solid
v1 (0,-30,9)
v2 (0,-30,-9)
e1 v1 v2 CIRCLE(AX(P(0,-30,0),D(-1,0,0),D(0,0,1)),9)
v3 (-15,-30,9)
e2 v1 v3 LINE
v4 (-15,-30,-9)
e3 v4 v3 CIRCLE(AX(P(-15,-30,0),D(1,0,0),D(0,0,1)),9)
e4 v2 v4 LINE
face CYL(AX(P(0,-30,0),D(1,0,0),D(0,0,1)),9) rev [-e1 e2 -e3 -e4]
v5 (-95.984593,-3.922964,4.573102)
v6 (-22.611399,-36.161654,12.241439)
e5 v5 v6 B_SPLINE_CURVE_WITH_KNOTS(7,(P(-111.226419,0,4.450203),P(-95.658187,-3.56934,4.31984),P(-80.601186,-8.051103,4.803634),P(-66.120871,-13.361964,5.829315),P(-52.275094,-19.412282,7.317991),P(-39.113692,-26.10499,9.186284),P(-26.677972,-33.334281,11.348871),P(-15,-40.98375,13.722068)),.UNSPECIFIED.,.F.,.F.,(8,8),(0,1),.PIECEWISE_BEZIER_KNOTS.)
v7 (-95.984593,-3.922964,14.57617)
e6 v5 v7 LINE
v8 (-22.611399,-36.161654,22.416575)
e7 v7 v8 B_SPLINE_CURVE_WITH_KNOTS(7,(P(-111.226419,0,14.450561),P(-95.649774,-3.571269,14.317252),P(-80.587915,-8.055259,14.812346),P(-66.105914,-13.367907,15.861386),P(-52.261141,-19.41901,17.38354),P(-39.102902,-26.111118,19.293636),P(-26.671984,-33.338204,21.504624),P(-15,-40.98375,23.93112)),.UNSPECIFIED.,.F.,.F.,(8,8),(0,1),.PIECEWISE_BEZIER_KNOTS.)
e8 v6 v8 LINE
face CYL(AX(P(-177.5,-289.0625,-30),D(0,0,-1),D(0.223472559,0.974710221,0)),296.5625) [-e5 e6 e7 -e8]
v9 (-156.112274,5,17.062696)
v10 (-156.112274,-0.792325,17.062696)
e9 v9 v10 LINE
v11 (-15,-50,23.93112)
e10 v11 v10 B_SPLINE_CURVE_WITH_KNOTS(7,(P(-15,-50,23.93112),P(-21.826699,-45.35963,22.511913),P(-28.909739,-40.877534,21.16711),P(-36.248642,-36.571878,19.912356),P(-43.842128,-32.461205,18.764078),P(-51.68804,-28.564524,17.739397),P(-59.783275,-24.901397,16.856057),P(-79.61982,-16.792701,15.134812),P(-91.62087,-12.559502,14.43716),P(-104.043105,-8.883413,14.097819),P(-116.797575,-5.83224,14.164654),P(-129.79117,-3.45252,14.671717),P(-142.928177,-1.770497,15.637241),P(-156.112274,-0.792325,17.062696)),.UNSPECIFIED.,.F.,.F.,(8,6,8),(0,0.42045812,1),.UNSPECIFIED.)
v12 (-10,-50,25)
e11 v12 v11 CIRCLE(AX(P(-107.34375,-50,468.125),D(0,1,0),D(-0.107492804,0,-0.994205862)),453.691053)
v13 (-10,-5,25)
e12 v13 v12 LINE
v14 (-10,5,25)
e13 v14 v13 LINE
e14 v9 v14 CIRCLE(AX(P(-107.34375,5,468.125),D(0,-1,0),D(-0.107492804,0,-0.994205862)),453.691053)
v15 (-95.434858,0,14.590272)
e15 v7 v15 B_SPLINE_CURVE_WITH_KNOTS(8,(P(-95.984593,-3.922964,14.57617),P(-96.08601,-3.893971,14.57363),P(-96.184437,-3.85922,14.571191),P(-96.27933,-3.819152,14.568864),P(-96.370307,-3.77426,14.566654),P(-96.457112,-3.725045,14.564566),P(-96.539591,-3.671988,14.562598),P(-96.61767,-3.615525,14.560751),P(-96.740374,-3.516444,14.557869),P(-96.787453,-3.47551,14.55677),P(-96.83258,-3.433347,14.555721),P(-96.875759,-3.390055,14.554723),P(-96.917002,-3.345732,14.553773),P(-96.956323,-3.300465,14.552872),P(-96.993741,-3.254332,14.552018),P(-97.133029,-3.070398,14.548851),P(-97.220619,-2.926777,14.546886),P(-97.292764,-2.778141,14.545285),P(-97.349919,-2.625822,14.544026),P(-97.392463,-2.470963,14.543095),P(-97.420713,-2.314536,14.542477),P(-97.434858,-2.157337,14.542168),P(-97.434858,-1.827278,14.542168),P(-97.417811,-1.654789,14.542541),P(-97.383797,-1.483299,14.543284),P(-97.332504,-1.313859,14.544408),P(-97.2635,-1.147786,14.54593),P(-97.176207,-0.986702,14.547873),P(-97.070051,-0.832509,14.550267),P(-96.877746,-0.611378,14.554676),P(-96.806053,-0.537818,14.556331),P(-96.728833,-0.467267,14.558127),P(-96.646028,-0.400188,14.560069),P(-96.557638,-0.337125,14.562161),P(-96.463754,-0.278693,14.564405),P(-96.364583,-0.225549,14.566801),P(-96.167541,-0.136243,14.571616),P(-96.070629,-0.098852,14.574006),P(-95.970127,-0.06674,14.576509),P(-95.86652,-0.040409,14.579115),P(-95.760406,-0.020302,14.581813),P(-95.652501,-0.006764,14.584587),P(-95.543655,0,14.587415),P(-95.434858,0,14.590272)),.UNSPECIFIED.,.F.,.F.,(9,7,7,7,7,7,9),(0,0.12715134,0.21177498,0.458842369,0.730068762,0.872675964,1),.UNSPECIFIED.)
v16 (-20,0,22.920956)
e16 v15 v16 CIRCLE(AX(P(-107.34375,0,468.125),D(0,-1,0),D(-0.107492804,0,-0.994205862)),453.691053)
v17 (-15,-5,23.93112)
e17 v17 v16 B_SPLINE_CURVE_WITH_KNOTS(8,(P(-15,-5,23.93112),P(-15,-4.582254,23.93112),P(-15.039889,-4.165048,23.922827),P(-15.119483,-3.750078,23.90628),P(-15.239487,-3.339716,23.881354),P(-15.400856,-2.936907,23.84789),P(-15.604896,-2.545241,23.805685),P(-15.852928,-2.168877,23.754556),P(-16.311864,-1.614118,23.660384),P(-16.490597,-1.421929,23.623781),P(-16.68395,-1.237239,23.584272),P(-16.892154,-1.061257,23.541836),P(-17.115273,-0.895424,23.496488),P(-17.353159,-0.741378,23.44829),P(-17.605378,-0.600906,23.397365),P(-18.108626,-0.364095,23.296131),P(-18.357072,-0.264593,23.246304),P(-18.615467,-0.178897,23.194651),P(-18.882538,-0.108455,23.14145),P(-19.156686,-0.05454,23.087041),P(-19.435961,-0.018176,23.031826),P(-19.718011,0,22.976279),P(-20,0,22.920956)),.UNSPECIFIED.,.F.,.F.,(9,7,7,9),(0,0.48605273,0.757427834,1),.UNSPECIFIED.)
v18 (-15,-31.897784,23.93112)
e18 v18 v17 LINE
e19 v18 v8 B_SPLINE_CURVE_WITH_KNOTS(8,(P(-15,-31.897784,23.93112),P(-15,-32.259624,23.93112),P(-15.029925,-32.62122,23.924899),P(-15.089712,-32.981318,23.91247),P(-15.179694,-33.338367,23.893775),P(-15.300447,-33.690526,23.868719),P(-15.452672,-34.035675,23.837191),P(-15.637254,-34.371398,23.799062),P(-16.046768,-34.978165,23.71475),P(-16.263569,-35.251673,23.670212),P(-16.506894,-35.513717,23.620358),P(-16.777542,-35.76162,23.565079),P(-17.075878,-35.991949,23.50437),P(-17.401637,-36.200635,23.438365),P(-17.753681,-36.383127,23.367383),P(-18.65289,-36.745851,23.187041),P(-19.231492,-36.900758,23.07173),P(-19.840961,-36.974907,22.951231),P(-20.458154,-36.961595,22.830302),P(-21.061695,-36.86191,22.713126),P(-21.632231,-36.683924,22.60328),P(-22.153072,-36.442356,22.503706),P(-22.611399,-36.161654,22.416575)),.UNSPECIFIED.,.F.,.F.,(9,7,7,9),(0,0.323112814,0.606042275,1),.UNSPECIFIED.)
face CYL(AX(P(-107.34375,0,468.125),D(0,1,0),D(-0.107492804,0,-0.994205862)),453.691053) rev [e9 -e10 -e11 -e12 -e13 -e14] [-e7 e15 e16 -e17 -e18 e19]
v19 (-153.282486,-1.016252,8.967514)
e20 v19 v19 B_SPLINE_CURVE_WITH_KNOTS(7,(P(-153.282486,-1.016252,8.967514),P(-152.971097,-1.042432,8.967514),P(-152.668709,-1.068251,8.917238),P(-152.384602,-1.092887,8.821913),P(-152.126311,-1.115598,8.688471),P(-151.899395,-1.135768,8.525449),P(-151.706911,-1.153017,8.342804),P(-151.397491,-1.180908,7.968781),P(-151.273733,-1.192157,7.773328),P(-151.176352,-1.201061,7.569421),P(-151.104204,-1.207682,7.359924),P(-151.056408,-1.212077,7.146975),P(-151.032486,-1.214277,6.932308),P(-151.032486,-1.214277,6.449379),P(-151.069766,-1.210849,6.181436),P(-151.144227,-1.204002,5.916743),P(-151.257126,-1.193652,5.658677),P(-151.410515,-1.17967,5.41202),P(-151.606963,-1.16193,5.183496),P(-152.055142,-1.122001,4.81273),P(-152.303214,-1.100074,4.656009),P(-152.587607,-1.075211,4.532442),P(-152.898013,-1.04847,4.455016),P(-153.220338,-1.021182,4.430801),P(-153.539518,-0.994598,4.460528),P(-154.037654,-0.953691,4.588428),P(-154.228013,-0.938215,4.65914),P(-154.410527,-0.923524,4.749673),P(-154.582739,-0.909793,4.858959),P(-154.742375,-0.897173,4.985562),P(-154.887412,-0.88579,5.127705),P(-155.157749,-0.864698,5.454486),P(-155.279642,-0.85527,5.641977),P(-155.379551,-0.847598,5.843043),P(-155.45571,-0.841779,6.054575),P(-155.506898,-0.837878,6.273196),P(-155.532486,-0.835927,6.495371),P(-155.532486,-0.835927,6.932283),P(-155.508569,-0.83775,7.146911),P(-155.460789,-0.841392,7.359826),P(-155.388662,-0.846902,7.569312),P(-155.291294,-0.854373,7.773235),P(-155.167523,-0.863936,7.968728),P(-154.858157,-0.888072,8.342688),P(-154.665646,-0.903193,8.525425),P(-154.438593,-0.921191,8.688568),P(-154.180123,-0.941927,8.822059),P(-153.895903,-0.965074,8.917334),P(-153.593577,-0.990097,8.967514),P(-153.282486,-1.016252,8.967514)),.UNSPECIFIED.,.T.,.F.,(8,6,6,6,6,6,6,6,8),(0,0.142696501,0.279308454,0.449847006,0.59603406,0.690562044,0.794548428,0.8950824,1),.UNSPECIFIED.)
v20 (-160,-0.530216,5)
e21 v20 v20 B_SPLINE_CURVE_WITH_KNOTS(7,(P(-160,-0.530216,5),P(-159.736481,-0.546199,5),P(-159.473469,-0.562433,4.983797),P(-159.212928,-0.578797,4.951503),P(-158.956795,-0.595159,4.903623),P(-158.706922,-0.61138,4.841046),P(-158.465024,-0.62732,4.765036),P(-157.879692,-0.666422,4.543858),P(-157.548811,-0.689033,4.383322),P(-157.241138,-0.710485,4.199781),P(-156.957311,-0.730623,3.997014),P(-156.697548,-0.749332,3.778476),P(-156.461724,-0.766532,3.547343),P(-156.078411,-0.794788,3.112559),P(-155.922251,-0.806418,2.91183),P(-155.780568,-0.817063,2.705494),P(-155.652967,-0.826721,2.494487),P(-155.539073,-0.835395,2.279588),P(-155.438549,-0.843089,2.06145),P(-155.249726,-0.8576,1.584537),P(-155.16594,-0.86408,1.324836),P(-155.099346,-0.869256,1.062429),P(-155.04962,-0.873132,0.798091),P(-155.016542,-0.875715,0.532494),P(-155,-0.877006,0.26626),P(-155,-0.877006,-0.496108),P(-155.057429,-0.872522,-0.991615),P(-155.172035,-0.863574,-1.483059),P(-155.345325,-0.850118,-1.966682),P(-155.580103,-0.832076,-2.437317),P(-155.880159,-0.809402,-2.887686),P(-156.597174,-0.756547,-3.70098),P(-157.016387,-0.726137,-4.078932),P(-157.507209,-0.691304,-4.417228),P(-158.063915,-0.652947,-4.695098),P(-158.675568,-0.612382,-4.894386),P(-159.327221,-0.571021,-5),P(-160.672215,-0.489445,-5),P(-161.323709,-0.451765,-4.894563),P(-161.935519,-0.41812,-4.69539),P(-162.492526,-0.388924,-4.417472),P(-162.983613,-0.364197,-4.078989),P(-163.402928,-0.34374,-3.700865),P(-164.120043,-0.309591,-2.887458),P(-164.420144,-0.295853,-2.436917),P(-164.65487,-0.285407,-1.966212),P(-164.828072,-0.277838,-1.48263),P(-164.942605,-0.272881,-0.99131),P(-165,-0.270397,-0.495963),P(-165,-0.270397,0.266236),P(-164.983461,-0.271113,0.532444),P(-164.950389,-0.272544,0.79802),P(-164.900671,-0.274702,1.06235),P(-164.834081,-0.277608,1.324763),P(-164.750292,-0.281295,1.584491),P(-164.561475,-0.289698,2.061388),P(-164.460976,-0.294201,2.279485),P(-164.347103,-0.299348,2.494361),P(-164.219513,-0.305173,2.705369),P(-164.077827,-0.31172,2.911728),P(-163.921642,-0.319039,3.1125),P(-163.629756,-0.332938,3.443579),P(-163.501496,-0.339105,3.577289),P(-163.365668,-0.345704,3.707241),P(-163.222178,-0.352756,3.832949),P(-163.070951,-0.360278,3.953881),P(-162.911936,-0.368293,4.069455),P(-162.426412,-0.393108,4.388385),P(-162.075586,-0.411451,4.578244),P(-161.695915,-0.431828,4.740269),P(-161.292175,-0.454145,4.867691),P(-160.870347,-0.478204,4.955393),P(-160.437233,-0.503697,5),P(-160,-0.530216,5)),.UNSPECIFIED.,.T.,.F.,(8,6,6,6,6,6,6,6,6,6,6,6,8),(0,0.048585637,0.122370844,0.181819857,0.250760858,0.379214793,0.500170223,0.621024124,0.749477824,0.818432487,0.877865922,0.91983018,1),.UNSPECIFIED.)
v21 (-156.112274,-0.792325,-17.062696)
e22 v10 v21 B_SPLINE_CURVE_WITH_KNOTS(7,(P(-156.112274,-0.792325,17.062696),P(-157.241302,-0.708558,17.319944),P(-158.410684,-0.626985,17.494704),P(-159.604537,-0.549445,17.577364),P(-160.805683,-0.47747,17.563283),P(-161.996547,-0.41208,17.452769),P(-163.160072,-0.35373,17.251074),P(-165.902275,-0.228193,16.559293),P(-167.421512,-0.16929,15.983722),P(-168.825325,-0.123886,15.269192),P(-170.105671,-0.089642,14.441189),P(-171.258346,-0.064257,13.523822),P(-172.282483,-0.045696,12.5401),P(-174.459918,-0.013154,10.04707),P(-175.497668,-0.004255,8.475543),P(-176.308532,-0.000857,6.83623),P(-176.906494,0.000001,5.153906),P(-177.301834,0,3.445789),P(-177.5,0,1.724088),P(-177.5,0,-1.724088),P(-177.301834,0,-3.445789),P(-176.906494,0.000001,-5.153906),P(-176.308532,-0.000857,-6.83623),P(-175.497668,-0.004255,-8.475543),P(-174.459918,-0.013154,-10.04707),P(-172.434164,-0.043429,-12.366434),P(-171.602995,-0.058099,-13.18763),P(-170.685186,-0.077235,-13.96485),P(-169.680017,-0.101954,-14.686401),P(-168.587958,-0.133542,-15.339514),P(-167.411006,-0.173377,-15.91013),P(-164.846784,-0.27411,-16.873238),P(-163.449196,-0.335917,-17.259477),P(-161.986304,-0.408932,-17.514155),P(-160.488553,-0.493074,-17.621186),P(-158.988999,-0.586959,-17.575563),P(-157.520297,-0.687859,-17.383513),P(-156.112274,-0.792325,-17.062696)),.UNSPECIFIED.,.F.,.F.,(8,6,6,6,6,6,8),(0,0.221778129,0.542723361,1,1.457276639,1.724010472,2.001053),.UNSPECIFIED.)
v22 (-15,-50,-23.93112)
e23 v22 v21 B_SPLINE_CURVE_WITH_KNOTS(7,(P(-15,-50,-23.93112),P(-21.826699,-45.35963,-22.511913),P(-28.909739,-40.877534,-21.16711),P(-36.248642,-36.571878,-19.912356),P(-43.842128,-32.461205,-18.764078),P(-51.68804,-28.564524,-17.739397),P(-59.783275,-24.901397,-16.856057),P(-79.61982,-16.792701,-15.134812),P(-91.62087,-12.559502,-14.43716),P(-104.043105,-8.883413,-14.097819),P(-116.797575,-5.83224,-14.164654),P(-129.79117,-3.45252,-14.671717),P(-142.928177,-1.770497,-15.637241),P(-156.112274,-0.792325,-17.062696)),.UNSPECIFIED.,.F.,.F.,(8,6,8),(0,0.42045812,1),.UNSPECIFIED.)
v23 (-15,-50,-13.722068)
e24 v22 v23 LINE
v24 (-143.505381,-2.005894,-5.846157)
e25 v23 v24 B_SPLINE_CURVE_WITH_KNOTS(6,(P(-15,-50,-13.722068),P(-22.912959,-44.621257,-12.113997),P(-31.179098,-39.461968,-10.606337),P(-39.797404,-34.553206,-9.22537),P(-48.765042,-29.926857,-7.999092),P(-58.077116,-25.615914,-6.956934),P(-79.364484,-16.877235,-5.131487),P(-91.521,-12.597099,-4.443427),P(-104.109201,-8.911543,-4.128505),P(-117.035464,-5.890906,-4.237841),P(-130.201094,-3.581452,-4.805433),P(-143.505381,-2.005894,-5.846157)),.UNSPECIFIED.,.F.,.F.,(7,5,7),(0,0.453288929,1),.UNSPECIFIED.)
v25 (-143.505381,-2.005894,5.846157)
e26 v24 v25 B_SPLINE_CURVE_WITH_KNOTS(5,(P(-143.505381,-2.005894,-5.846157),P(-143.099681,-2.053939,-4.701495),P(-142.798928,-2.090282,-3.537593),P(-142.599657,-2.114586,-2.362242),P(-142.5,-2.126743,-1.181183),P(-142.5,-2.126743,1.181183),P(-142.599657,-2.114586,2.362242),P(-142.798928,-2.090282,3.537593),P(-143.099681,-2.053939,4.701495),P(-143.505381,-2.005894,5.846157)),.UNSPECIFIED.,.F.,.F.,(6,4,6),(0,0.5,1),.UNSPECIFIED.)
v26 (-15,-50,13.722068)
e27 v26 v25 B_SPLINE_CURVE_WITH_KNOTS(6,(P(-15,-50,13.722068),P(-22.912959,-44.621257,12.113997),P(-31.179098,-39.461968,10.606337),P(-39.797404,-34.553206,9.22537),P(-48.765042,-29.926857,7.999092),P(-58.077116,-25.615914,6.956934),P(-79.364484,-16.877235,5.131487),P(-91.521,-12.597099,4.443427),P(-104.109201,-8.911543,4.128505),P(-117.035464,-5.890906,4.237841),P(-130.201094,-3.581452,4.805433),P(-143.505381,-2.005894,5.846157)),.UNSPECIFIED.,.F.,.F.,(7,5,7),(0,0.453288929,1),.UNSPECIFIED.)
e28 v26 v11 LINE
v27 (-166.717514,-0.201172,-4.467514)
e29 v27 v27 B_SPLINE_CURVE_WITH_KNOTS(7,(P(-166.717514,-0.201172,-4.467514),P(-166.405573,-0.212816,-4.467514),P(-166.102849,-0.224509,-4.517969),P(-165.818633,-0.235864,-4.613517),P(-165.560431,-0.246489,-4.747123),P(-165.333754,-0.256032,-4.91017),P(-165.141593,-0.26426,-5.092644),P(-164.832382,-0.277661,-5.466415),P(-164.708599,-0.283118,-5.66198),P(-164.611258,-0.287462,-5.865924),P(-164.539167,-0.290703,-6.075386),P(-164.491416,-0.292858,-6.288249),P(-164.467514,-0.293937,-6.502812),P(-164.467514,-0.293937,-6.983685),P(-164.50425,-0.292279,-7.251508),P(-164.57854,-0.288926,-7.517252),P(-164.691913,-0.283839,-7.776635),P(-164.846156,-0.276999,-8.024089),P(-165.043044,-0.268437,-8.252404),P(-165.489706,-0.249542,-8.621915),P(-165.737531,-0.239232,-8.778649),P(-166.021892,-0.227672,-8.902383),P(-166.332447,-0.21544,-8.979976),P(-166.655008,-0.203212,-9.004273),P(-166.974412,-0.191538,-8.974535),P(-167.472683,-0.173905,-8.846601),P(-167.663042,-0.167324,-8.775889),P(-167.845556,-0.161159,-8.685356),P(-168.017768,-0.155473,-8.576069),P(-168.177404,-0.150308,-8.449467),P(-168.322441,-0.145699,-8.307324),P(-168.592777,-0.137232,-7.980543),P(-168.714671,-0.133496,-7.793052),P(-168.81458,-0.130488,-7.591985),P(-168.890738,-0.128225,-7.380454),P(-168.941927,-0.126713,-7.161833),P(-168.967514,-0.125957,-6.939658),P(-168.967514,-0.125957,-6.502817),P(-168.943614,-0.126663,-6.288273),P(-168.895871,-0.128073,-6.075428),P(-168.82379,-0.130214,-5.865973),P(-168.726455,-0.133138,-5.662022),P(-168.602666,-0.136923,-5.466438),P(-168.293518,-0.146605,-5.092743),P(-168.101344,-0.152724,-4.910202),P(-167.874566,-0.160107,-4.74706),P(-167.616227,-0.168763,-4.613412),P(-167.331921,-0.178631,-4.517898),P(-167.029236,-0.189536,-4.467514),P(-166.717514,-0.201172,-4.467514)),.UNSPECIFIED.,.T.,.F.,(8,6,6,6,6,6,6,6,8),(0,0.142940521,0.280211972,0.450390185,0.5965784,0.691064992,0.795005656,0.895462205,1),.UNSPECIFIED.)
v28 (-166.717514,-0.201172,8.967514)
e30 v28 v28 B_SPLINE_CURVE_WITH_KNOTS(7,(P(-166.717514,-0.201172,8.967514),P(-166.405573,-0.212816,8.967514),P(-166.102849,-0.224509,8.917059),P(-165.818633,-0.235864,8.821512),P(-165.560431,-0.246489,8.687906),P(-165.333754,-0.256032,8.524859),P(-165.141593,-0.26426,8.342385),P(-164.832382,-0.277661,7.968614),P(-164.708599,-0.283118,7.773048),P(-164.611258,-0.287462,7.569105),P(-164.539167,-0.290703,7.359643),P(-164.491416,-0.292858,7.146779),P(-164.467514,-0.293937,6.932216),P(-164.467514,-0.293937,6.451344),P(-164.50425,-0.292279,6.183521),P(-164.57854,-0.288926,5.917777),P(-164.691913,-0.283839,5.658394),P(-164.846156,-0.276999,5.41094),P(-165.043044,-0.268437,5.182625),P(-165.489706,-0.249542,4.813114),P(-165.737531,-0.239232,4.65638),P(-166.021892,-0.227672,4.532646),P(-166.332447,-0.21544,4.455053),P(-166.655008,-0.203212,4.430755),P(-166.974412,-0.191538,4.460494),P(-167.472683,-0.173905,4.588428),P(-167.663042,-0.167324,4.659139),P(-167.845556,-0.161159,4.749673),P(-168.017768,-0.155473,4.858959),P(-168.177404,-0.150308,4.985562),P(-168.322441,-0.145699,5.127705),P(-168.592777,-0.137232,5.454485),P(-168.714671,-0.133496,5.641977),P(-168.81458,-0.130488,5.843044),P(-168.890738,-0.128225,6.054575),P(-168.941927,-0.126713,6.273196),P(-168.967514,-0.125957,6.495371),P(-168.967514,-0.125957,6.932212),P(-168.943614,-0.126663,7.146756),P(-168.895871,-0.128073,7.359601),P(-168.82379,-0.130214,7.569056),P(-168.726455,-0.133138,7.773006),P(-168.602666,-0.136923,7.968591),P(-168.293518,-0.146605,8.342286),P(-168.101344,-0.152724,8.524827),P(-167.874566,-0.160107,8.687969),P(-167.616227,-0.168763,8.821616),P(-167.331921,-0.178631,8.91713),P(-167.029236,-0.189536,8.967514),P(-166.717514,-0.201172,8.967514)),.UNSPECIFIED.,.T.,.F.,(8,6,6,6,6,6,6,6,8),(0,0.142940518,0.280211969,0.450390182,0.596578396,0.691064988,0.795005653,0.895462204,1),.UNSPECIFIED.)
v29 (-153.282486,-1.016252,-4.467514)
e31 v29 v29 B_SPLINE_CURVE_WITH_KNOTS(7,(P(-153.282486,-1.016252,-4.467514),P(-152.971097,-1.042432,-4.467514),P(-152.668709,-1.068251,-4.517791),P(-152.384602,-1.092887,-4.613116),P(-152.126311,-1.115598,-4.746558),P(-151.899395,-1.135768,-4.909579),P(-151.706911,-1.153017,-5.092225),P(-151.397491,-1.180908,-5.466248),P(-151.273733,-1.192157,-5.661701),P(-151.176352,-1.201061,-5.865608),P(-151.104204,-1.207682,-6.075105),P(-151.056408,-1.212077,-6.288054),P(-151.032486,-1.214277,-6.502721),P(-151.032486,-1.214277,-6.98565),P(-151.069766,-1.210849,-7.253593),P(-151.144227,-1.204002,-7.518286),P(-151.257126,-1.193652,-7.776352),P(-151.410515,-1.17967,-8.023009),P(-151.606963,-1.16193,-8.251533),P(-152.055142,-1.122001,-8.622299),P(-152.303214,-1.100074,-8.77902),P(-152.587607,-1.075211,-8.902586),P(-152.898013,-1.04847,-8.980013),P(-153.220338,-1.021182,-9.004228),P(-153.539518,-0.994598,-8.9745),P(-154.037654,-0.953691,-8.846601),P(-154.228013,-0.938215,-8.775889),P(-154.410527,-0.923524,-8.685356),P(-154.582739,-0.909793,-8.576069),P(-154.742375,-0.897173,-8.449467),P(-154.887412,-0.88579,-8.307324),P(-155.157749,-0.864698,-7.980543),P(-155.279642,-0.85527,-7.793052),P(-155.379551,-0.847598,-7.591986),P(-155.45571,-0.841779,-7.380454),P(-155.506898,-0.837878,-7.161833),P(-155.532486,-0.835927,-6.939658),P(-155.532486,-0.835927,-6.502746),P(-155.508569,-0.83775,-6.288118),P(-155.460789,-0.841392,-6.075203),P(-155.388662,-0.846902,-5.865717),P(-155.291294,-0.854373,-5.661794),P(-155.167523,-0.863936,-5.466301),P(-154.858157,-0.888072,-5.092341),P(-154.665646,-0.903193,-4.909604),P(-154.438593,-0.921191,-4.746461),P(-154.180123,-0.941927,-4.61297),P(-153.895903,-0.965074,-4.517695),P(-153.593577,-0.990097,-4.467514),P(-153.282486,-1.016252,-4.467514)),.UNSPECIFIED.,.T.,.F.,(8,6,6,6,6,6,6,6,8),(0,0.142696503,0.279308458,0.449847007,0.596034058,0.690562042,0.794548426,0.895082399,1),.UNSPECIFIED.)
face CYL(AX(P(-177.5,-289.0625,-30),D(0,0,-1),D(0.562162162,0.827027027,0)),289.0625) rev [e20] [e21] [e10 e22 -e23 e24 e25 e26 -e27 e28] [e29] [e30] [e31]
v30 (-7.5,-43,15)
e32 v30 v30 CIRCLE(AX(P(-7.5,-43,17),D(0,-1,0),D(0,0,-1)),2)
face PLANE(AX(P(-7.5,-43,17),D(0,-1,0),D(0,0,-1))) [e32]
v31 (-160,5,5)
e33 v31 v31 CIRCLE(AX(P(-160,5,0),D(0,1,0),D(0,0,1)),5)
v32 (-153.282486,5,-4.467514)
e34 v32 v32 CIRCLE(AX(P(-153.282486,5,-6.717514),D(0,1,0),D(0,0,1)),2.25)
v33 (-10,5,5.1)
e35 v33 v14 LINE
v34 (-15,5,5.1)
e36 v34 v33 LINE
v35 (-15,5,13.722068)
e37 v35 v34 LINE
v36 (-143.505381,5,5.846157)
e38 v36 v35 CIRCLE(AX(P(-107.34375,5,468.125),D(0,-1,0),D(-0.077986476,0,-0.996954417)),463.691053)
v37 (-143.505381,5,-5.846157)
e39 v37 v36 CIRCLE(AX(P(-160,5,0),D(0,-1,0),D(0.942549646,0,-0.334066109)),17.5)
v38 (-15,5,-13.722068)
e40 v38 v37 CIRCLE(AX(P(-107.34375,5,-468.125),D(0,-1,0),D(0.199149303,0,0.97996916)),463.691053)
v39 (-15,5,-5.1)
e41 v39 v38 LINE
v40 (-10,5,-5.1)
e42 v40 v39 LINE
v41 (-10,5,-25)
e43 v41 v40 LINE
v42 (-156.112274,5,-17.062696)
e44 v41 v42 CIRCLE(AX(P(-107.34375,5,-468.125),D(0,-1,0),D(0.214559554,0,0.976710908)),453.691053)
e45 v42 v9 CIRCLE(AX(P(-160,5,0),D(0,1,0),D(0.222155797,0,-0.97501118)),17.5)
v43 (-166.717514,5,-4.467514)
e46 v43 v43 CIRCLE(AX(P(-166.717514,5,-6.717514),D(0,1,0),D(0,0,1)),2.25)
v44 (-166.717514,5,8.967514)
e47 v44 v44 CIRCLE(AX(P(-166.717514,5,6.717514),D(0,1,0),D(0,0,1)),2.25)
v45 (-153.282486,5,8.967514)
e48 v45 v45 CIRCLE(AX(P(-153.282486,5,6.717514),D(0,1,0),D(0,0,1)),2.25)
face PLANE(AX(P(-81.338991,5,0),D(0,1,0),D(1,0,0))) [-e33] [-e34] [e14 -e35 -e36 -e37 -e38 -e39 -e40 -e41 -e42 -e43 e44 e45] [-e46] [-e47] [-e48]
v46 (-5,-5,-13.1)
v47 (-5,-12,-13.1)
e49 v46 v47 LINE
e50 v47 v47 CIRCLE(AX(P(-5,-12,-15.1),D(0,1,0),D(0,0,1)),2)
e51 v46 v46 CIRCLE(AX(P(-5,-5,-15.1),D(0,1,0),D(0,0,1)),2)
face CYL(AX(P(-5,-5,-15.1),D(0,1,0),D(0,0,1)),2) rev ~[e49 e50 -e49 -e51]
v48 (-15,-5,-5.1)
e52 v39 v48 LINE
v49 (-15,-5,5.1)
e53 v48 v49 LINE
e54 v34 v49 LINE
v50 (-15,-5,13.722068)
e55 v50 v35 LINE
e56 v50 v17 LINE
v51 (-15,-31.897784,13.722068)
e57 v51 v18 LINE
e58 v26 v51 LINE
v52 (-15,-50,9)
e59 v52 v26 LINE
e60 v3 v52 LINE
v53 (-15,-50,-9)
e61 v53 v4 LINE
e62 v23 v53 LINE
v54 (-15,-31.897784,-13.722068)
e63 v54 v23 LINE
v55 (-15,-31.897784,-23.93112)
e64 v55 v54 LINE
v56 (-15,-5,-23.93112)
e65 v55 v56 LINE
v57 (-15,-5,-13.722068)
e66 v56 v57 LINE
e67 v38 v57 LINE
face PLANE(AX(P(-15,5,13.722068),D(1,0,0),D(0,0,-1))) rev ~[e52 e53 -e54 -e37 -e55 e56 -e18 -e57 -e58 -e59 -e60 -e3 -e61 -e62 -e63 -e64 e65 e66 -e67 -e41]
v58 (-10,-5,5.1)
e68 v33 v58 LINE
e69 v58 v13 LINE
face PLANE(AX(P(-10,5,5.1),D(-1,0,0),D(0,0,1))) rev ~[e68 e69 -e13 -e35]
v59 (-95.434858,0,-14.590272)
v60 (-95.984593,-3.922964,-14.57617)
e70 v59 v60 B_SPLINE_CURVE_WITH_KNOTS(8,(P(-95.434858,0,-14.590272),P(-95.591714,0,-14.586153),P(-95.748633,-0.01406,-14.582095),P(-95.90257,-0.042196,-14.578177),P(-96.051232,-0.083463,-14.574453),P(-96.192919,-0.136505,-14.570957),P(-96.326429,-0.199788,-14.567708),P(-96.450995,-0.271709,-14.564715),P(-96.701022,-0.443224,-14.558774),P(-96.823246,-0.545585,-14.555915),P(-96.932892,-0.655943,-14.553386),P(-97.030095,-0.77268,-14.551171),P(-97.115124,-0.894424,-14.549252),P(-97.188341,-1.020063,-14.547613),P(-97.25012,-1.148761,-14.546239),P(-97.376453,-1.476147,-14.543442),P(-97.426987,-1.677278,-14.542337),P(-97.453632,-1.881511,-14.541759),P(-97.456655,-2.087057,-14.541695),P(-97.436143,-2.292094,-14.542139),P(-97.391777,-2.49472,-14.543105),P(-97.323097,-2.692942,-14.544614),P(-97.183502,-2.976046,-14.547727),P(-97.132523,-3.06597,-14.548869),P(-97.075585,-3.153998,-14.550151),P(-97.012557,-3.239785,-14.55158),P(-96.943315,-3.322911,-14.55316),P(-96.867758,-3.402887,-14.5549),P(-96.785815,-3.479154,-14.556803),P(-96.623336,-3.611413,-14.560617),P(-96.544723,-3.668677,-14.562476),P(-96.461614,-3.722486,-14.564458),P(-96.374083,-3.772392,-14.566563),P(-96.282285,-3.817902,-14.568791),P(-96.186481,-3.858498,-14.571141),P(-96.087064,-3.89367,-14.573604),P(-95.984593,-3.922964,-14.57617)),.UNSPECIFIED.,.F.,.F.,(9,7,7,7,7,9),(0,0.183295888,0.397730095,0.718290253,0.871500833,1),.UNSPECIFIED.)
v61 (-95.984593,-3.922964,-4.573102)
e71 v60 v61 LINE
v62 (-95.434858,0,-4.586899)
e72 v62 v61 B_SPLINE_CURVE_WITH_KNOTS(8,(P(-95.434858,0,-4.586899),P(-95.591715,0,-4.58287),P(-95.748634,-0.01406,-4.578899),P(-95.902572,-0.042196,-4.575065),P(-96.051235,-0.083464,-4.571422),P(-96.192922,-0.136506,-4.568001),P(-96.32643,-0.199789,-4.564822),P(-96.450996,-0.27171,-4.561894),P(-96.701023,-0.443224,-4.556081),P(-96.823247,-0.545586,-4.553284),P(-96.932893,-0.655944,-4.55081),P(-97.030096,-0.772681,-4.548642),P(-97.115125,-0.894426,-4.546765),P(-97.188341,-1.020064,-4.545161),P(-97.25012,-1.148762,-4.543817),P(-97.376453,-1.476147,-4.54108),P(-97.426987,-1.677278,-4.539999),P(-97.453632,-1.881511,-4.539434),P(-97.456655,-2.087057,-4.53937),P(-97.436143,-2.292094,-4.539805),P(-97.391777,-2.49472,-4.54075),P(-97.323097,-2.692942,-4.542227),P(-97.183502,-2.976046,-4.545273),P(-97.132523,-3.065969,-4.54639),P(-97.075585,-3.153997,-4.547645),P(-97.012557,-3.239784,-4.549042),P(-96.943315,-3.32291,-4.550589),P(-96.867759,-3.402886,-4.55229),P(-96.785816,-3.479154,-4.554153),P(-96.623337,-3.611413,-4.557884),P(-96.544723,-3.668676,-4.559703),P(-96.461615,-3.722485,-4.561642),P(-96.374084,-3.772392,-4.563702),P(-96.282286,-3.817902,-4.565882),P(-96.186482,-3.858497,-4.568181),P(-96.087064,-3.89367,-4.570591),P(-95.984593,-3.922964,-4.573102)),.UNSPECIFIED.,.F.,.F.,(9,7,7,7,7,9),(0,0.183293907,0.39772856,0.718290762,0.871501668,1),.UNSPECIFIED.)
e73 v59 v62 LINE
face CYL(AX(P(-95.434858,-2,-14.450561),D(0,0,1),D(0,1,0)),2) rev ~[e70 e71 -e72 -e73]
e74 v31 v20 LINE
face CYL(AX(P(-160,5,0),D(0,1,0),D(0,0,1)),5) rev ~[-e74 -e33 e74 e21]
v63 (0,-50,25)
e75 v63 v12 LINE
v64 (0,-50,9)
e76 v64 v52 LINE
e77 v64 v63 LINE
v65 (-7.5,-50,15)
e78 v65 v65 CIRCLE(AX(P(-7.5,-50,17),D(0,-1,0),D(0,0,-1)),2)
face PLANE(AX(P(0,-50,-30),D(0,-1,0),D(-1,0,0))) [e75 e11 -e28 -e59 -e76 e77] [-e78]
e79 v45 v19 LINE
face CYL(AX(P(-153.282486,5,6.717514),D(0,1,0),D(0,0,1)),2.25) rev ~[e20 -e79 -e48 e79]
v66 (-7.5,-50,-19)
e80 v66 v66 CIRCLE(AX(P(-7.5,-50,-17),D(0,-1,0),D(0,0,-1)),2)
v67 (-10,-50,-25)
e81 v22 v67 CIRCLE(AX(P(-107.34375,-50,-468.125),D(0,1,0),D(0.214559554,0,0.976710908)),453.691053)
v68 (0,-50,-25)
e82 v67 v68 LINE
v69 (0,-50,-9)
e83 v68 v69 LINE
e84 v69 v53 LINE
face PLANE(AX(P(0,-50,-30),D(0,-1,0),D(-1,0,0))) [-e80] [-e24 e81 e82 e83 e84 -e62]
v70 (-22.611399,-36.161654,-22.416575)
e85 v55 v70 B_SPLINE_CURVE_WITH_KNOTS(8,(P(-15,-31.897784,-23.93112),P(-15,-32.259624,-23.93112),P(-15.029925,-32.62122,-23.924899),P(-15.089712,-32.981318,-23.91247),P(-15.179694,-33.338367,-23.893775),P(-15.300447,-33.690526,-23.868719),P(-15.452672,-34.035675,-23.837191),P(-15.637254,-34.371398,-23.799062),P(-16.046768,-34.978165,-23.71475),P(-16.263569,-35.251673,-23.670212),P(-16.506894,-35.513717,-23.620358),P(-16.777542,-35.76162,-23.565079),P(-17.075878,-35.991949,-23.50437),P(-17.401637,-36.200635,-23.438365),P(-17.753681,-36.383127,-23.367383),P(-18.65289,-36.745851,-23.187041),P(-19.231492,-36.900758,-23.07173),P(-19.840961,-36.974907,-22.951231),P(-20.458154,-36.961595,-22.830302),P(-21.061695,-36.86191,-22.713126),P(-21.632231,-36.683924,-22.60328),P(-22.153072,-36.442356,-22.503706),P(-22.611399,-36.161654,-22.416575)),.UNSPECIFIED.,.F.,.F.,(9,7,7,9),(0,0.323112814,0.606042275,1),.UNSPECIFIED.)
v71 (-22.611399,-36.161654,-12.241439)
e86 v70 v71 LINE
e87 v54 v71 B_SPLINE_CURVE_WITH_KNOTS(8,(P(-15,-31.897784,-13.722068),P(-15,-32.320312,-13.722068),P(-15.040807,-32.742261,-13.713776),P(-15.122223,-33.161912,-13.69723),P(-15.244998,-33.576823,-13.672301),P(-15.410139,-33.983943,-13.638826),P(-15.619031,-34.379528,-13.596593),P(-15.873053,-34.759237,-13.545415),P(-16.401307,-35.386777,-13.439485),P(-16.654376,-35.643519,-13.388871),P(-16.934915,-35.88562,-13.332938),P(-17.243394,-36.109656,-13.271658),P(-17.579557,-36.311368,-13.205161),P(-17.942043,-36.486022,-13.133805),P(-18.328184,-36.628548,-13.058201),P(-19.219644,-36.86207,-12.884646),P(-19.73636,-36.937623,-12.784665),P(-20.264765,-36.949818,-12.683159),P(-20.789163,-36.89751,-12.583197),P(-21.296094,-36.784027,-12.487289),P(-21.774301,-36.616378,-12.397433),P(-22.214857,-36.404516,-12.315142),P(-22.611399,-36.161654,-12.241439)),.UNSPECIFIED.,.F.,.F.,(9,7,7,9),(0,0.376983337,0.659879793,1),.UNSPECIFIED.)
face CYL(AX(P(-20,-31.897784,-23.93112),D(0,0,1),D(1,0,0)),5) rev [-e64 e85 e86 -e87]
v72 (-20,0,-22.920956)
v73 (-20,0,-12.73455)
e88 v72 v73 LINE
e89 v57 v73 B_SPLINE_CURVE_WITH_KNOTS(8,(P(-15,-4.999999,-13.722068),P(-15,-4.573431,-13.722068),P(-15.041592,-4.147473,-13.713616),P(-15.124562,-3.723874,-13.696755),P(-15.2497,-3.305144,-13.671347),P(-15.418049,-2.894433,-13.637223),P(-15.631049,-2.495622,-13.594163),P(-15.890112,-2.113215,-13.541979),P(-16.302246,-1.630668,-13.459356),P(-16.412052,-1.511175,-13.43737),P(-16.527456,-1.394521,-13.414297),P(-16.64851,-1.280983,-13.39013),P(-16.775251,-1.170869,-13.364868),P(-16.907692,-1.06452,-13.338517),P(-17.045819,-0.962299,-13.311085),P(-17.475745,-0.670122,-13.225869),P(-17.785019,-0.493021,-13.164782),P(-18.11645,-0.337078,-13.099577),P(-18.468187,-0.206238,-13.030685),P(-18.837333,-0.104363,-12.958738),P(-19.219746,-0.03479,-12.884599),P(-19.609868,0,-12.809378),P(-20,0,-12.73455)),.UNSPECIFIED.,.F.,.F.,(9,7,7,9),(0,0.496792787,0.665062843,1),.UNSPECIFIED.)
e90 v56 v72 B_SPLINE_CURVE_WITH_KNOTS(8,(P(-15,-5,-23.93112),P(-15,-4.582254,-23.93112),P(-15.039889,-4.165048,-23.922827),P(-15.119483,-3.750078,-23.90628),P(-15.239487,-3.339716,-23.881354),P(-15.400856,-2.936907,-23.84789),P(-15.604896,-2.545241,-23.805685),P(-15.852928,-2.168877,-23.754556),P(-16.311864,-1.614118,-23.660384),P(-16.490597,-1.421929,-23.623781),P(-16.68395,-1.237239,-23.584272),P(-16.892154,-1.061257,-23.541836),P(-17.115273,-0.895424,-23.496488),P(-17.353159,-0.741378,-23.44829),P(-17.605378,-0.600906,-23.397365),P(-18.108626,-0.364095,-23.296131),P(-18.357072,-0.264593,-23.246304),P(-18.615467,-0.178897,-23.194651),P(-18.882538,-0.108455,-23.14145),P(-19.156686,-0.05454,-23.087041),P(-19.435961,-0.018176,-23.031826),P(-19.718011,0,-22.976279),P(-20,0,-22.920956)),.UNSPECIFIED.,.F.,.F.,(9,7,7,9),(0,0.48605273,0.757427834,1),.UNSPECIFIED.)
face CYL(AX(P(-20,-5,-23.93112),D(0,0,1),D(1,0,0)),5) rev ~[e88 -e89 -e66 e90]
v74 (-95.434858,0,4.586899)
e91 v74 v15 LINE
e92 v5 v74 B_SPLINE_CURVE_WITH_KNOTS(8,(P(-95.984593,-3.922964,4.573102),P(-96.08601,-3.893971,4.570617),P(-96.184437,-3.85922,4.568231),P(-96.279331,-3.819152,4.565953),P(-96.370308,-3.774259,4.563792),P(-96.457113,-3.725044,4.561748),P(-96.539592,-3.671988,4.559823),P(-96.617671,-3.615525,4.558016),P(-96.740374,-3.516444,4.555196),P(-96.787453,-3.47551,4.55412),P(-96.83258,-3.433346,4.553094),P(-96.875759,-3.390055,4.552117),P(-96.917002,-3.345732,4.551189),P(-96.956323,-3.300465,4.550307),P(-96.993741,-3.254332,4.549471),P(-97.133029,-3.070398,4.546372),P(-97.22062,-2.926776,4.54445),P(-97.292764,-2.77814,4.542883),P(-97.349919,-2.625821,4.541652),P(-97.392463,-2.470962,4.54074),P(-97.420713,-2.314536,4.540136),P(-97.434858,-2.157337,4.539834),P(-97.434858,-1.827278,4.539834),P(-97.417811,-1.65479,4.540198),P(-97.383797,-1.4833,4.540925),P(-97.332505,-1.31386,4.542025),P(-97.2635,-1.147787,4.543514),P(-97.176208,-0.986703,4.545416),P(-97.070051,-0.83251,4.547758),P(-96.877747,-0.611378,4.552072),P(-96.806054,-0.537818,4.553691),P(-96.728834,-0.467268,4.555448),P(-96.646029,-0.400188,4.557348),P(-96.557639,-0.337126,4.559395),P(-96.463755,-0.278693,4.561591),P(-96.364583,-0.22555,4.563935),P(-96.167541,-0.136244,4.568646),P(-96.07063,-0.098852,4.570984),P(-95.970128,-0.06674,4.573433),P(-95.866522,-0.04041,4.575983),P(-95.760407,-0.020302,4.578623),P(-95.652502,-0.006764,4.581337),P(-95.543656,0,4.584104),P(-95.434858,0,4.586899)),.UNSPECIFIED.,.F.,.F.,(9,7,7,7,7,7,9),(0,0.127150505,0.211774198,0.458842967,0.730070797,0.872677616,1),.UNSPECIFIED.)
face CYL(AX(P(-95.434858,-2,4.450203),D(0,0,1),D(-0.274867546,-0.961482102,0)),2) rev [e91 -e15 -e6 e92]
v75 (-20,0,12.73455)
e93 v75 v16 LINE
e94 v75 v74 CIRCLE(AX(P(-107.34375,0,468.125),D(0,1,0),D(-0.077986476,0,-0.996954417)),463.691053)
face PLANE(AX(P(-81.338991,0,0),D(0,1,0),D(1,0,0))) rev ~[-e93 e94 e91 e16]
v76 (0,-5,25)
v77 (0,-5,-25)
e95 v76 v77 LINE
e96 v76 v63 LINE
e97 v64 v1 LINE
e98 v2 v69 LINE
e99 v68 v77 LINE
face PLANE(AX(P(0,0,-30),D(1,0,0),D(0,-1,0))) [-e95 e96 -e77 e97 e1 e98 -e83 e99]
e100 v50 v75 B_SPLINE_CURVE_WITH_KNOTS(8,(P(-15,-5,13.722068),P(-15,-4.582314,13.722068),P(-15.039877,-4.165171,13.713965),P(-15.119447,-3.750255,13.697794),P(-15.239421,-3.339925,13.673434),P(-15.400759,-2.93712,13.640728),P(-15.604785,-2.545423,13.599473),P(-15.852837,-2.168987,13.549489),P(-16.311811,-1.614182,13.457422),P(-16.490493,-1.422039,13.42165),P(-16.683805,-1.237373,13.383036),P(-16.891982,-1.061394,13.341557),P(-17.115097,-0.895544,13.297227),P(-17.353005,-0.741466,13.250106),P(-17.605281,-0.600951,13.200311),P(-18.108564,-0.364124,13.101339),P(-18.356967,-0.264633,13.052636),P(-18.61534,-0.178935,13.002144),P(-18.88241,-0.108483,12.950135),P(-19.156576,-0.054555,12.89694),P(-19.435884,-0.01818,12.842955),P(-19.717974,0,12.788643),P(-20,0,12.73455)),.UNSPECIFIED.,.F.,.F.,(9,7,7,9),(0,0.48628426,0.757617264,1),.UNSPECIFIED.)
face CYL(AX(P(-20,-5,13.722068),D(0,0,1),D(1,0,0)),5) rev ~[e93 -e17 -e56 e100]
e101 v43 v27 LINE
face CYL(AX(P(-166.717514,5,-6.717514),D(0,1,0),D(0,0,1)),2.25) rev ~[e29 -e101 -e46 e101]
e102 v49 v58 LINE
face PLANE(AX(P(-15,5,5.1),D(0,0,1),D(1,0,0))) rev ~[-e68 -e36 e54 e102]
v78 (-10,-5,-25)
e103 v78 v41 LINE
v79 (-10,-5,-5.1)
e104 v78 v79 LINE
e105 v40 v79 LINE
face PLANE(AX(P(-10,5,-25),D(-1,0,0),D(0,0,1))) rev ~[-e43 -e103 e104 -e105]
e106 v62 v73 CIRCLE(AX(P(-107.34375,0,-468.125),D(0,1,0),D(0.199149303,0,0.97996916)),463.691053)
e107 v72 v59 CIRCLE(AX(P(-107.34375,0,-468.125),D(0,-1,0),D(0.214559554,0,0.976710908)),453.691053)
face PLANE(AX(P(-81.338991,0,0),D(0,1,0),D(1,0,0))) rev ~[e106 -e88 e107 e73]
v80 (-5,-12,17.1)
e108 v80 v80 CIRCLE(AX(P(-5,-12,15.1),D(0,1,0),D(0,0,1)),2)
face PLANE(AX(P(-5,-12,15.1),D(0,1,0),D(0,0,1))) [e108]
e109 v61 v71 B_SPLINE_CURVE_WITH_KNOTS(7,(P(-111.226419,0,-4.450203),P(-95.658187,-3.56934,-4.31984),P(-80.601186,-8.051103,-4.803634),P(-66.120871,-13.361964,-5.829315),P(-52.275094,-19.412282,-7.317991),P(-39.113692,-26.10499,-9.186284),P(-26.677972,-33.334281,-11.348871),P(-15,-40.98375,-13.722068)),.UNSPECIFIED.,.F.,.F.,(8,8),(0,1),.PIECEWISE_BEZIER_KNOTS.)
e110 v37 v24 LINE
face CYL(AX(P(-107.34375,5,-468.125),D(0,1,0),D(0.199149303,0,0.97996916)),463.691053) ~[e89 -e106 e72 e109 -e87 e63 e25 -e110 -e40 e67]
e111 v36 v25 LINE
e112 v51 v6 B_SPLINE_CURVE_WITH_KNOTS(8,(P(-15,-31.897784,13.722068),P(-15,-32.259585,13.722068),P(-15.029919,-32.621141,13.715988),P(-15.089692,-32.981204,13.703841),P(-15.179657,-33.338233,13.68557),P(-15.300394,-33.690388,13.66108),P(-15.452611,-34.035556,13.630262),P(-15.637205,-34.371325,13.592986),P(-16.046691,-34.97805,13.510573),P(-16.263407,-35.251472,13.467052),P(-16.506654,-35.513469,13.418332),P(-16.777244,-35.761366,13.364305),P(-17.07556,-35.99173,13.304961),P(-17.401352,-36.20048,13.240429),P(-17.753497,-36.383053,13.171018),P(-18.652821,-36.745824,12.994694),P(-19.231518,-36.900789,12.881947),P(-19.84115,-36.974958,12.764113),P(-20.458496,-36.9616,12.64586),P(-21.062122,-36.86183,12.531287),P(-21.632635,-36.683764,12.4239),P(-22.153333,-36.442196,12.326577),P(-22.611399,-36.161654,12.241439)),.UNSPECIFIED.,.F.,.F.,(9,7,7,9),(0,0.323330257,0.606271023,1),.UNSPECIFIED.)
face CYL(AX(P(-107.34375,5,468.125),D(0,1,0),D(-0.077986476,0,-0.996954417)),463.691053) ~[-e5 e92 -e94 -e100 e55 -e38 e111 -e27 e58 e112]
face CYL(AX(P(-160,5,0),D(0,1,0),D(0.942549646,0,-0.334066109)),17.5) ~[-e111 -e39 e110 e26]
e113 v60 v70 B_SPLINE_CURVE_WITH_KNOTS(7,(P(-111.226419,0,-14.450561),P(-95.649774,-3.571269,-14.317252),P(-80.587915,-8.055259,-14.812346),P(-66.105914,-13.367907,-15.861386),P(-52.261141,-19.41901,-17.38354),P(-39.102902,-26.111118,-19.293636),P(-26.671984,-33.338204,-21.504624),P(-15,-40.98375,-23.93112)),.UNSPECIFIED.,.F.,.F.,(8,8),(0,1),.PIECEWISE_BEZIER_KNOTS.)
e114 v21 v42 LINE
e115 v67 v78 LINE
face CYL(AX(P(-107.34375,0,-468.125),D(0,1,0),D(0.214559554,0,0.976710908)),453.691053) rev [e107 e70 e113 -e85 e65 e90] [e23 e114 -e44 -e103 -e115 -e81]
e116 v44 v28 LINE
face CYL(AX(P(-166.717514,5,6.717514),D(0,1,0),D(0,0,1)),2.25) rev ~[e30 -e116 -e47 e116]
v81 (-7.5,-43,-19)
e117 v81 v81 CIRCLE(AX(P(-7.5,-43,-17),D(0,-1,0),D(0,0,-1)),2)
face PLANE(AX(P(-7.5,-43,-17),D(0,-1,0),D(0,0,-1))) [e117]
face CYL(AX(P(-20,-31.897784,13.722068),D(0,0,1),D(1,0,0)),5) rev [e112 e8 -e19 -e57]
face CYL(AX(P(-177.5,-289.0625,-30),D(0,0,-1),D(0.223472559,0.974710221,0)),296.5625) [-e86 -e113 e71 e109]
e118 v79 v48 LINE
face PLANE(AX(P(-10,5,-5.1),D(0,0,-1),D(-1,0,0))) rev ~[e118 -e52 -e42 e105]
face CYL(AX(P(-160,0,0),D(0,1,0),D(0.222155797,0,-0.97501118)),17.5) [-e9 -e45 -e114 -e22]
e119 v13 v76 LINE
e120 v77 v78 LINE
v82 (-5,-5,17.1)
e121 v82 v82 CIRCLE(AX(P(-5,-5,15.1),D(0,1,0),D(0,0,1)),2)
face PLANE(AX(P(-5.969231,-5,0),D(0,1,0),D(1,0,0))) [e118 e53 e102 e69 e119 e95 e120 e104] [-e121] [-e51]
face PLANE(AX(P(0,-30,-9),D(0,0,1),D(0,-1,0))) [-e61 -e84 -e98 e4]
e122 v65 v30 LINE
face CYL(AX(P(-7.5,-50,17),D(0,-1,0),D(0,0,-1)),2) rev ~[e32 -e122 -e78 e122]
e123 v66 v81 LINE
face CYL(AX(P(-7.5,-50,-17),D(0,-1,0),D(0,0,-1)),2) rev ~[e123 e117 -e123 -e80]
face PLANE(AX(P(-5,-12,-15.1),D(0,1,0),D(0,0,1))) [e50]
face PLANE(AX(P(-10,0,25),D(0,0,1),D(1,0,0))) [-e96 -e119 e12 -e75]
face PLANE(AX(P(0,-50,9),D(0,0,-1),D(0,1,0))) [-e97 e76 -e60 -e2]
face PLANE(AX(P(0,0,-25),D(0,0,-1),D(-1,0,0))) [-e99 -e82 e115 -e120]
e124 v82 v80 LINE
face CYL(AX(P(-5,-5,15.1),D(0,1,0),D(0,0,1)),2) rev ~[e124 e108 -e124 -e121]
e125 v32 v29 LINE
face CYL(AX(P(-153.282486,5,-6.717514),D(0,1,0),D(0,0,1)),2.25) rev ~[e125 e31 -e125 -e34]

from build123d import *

# Parameters (mm, degrees)
BASE_DEPTH             = 5
SUPPORT_DEPTH          = 30
SUPPORT_DEPTH_BACK     = 30
ESQUISSE7_OUTSIDE_W    = 218.554
ESQUISSE7_OUTSIDE_H    = 101.054
AJUSTEMENT_DEPTH       = 187.832143915
TROU_CENTRE_DEPTH      = 188.500000137
ESQUISSE11_R           = 2.25
ESQUISSE11_R_2         = 5
TROU_MOTEUR_DEPTH      = 188.500000137
CONG_2_R               = 5
CONG_3_R               = 2
TROU_SUPPORT_DEPTH     = 10
ESQUISSE13_R           = 2
INSERT_HAUT_DEPTH      = 7
PONT_REACH             = 188.095
PONT_DIRECTION_2_DEPTH = 187.094734075
ESQUISSE14_R           = 2
INSERT_BAS_DEPTH       = 7


with BuildPart() as part:
    # Esquisse2 → Base (new body)
    with BuildSketch(Plane(origin=(0, 0, 0), x_dir=(1, 0, 0), z_dir=(0, 1, 0))):
        with BuildLine():
            ThreePointArc((-10, 25), (-82.734029234, 15.101895807), (-156.112273553, 17.062695657))
            ThreePointArc((-156.112273553, 17.062695657), (-177.5, 0), (-156.112273553, -17.062695657))
            ThreePointArc((-156.112273553, -17.062695657), (-82.734029234, -15.101895807), (-10, -25))
            Line((-10, -25), (0, -25))
            Line((0, -25), (0, 25))
            Line((0, 25), (-10, 25))
        make_face()
    extrude(amount=BASE_DEPTH)

    # Esquisse6 → Support (add, two sides: drawn at the far end of the back side and taken through both)
    with BuildSketch(Plane.XY.offset(-SUPPORT_DEPTH_BACK)):
        with BuildLine():
            Line((0, 0), (0, -50))
            Line((0, -50), (-15, -50))
            ThreePointArc((-15, -50), (-92.49080932, -12.782630291), (-177.5, 0))
            Line((-177.5, 0), (-111.226419291, 0))
            ThreePointArc((-111.226419291, 0), (-61.29219157, -16.216276522), (-15, -40.983749587))
            Line((-15, -40.983749587), (-15, 0))
            Line((-15, 0), (0, 0))
        make_face()
    extrude(amount=SUPPORT_DEPTH + SUPPORT_DEPTH_BACK)

    # Esquisse7 outside → Ajustement (cut, through all)
    with BuildSketch(Plane(origin=(0, 0, 0), x_dir=(1, 0, 0), z_dir=(0, 1, 0))):
        with Locations((-88.75, 0)):
            Rectangle(ESQUISSE7_OUTSIDE_W, ESQUISSE7_OUTSIDE_H)
        with BuildLine():
            Line((-10, -25), (0, -25))
            Line((0, -25), (0, 25))
            Line((0, 25), (-10, 25))
            ThreePointArc((-10, 25), (-82.734029234, 15.101895807), (-156.112273553, 17.062695657))
            ThreePointArc((-156.112273553, 17.062695657), (-177.5, 0), (-156.112273553, -17.062695657))
            ThreePointArc((-156.112273553, -17.062695657), (-82.734029234, -15.101895807), (-10, -25))
        make_face(mode=Mode.SUBTRACT)
    extrude(amount=-AJUSTEMENT_DEPTH, mode=Mode.SUBTRACT)

    # Esquisse9 → Trou_centre (cut, through all)
    with BuildSketch(Plane(origin=(0, 5, 0), x_dir=(1, 0, 0), z_dir=(0, 1, 0))):
        with BuildLine():
            Line((-15, -13.722068475), (-15, 13.722068475))
            ThreePointArc((-15, 13.722068475), (-78.978011617, 5.302380383), (-143.505381198, 5.846156906))
            ThreePointArc((-143.505381198, 5.846156906), (-142.5, 0), (-143.505381198, -5.846156906))
            ThreePointArc((-143.505381198, -5.846156906), (-78.978011617, -5.302380383), (-15, -13.722068475))
        make_face()
    extrude(amount=-TROU_CENTRE_DEPTH, mode=Mode.SUBTRACT)

    # Esquisse11 → Trou_moteur (cut, through all)
    with BuildSketch(Plane(origin=(0, 5, 0), x_dir=(1, 0, 0), z_dir=(0, 1, 0))):
        with Locations(Location((-153.282485579, 6.717514421, 0), (0, 0, 270))):
            Circle(ESQUISSE11_R)
        with Locations(Location((-153.282485579, -6.717514421, 0), (0, 0, 270))):
            Circle(ESQUISSE11_R)
        with Locations(Location((-166.717514421, -6.717514421, 0), (0, 0, 270))):
            Circle(ESQUISSE11_R)
        with Locations(Location((-166.717514421, 6.717514421, 0), (0, 0, 270))):
            Circle(ESQUISSE11_R)
        with Locations(Location((-160, 0, 0), (0, 0, 270))):
            Circle(ESQUISSE11_R_2)
    extrude(amount=-TROU_MOTEUR_DEPTH, mode=Mode.SUBTRACT)

    # Congé2
    cong_2_edges = [part.edges().sort_by_distance(p)[0] for p in [
        (-15, -40.983749587, 18.826594184),
        (-15, -40.983749587, -18.826594184),
        (-15, 0, -18.826594184),
        (-15, 0, 18.826594184),
    ]]
    fillet(cong_2_edges, radius=CONG_2_R)

    # Congé3
    cong_3_edges = [part.edges().sort_by_distance(p)[0] for p in [
        (-111.226419291, 0, -9.45038232),
        (-111.226419291, 0, 9.45038232),
    ]]
    fillet(cong_3_edges, radius=CONG_3_R)

    # Esquisse12 → Trou_support (cut)
    with BuildSketch(Plane(origin=(0, 5, 0), x_dir=(1, 0, 0), z_dir=(0, 1, 0))):
        Polygon((-15, -5.1), (-10, -5.1), (-10, -25), (0, -25), (0, 25), (-10, 25), (-10, 5.1), (-15, 5.1), align=None)
    extrude(amount=-TROU_SUPPORT_DEPTH, mode=Mode.SUBTRACT)

    # Esquisse13 → Insert_haut (cut)
    with BuildSketch(Plane(origin=(0, -5, 0), x_dir=(1, 0, 0), z_dir=(0, 1, 0))):
        with Locations(Location((-5, -15.1, 0), (0, 0, 270))):
            Circle(ESQUISSE13_R)
        with Locations(Location((-5, 15.1, 0), (0, 0, 270))):
            Circle(ESQUISSE13_R)
    extrude(amount=-INSERT_HAUT_DEPTH, mode=Mode.SUBTRACT)

    # Esquisse15 → Pont (cut, up to next)
    with BuildSketch(Plane(origin=(0, 0, 0), x_dir=(0, 0, -1), z_dir=(1, 0, 0)), mode=Mode.PRIVATE) as pont_sk1:
        with BuildLine():
            Line((-9, -50), (-9, -30))
            ThreePointArc((-9, -30), (0, -21), (9, -30))
            Line((9, -30), (9, -50))
            Line((9, -50), (-9, -50))
        make_face()
    pont_tool1 = extrude(pont_sk1.sketch, amount=-PONT_REACH, mode=Mode.PRIVATE) & part.part
    add(pont_tool1.solids().sort_by_distance((0, -36.391173, 0))[0], mode=Mode.SUBTRACT)

    # Esquisse15 → Pont direction 2 (cut)
    with BuildSketch(Plane(origin=(0, 0, 0), x_dir=(0, 0, -1), z_dir=(1, 0, 0))):
        with BuildLine():
            Line((-9, -50), (-9, -30))
            ThreePointArc((-9, -30), (0, -21), (9, -30))
            Line((9, -30), (9, -50))
            Line((9, -50), (-9, -50))
        make_face()
    extrude(amount=PONT_DIRECTION_2_DEPTH, mode=Mode.SUBTRACT)

    # Esquisse14 → Insert_bas (cut)
    with BuildSketch(Plane.XZ.offset(50)):
        with Locations(Location((-7.5, 17, 0), (0, 0, 270))):
            Circle(ESQUISSE14_R)
        with Locations(Location((-7.5, -17, 0), (0, 0, 270))):
            Circle(ESQUISSE14_R)
    extrude(amount=-INSERT_BAS_DEPTH, mode=Mode.SUBTRACT)


solid = part.part
